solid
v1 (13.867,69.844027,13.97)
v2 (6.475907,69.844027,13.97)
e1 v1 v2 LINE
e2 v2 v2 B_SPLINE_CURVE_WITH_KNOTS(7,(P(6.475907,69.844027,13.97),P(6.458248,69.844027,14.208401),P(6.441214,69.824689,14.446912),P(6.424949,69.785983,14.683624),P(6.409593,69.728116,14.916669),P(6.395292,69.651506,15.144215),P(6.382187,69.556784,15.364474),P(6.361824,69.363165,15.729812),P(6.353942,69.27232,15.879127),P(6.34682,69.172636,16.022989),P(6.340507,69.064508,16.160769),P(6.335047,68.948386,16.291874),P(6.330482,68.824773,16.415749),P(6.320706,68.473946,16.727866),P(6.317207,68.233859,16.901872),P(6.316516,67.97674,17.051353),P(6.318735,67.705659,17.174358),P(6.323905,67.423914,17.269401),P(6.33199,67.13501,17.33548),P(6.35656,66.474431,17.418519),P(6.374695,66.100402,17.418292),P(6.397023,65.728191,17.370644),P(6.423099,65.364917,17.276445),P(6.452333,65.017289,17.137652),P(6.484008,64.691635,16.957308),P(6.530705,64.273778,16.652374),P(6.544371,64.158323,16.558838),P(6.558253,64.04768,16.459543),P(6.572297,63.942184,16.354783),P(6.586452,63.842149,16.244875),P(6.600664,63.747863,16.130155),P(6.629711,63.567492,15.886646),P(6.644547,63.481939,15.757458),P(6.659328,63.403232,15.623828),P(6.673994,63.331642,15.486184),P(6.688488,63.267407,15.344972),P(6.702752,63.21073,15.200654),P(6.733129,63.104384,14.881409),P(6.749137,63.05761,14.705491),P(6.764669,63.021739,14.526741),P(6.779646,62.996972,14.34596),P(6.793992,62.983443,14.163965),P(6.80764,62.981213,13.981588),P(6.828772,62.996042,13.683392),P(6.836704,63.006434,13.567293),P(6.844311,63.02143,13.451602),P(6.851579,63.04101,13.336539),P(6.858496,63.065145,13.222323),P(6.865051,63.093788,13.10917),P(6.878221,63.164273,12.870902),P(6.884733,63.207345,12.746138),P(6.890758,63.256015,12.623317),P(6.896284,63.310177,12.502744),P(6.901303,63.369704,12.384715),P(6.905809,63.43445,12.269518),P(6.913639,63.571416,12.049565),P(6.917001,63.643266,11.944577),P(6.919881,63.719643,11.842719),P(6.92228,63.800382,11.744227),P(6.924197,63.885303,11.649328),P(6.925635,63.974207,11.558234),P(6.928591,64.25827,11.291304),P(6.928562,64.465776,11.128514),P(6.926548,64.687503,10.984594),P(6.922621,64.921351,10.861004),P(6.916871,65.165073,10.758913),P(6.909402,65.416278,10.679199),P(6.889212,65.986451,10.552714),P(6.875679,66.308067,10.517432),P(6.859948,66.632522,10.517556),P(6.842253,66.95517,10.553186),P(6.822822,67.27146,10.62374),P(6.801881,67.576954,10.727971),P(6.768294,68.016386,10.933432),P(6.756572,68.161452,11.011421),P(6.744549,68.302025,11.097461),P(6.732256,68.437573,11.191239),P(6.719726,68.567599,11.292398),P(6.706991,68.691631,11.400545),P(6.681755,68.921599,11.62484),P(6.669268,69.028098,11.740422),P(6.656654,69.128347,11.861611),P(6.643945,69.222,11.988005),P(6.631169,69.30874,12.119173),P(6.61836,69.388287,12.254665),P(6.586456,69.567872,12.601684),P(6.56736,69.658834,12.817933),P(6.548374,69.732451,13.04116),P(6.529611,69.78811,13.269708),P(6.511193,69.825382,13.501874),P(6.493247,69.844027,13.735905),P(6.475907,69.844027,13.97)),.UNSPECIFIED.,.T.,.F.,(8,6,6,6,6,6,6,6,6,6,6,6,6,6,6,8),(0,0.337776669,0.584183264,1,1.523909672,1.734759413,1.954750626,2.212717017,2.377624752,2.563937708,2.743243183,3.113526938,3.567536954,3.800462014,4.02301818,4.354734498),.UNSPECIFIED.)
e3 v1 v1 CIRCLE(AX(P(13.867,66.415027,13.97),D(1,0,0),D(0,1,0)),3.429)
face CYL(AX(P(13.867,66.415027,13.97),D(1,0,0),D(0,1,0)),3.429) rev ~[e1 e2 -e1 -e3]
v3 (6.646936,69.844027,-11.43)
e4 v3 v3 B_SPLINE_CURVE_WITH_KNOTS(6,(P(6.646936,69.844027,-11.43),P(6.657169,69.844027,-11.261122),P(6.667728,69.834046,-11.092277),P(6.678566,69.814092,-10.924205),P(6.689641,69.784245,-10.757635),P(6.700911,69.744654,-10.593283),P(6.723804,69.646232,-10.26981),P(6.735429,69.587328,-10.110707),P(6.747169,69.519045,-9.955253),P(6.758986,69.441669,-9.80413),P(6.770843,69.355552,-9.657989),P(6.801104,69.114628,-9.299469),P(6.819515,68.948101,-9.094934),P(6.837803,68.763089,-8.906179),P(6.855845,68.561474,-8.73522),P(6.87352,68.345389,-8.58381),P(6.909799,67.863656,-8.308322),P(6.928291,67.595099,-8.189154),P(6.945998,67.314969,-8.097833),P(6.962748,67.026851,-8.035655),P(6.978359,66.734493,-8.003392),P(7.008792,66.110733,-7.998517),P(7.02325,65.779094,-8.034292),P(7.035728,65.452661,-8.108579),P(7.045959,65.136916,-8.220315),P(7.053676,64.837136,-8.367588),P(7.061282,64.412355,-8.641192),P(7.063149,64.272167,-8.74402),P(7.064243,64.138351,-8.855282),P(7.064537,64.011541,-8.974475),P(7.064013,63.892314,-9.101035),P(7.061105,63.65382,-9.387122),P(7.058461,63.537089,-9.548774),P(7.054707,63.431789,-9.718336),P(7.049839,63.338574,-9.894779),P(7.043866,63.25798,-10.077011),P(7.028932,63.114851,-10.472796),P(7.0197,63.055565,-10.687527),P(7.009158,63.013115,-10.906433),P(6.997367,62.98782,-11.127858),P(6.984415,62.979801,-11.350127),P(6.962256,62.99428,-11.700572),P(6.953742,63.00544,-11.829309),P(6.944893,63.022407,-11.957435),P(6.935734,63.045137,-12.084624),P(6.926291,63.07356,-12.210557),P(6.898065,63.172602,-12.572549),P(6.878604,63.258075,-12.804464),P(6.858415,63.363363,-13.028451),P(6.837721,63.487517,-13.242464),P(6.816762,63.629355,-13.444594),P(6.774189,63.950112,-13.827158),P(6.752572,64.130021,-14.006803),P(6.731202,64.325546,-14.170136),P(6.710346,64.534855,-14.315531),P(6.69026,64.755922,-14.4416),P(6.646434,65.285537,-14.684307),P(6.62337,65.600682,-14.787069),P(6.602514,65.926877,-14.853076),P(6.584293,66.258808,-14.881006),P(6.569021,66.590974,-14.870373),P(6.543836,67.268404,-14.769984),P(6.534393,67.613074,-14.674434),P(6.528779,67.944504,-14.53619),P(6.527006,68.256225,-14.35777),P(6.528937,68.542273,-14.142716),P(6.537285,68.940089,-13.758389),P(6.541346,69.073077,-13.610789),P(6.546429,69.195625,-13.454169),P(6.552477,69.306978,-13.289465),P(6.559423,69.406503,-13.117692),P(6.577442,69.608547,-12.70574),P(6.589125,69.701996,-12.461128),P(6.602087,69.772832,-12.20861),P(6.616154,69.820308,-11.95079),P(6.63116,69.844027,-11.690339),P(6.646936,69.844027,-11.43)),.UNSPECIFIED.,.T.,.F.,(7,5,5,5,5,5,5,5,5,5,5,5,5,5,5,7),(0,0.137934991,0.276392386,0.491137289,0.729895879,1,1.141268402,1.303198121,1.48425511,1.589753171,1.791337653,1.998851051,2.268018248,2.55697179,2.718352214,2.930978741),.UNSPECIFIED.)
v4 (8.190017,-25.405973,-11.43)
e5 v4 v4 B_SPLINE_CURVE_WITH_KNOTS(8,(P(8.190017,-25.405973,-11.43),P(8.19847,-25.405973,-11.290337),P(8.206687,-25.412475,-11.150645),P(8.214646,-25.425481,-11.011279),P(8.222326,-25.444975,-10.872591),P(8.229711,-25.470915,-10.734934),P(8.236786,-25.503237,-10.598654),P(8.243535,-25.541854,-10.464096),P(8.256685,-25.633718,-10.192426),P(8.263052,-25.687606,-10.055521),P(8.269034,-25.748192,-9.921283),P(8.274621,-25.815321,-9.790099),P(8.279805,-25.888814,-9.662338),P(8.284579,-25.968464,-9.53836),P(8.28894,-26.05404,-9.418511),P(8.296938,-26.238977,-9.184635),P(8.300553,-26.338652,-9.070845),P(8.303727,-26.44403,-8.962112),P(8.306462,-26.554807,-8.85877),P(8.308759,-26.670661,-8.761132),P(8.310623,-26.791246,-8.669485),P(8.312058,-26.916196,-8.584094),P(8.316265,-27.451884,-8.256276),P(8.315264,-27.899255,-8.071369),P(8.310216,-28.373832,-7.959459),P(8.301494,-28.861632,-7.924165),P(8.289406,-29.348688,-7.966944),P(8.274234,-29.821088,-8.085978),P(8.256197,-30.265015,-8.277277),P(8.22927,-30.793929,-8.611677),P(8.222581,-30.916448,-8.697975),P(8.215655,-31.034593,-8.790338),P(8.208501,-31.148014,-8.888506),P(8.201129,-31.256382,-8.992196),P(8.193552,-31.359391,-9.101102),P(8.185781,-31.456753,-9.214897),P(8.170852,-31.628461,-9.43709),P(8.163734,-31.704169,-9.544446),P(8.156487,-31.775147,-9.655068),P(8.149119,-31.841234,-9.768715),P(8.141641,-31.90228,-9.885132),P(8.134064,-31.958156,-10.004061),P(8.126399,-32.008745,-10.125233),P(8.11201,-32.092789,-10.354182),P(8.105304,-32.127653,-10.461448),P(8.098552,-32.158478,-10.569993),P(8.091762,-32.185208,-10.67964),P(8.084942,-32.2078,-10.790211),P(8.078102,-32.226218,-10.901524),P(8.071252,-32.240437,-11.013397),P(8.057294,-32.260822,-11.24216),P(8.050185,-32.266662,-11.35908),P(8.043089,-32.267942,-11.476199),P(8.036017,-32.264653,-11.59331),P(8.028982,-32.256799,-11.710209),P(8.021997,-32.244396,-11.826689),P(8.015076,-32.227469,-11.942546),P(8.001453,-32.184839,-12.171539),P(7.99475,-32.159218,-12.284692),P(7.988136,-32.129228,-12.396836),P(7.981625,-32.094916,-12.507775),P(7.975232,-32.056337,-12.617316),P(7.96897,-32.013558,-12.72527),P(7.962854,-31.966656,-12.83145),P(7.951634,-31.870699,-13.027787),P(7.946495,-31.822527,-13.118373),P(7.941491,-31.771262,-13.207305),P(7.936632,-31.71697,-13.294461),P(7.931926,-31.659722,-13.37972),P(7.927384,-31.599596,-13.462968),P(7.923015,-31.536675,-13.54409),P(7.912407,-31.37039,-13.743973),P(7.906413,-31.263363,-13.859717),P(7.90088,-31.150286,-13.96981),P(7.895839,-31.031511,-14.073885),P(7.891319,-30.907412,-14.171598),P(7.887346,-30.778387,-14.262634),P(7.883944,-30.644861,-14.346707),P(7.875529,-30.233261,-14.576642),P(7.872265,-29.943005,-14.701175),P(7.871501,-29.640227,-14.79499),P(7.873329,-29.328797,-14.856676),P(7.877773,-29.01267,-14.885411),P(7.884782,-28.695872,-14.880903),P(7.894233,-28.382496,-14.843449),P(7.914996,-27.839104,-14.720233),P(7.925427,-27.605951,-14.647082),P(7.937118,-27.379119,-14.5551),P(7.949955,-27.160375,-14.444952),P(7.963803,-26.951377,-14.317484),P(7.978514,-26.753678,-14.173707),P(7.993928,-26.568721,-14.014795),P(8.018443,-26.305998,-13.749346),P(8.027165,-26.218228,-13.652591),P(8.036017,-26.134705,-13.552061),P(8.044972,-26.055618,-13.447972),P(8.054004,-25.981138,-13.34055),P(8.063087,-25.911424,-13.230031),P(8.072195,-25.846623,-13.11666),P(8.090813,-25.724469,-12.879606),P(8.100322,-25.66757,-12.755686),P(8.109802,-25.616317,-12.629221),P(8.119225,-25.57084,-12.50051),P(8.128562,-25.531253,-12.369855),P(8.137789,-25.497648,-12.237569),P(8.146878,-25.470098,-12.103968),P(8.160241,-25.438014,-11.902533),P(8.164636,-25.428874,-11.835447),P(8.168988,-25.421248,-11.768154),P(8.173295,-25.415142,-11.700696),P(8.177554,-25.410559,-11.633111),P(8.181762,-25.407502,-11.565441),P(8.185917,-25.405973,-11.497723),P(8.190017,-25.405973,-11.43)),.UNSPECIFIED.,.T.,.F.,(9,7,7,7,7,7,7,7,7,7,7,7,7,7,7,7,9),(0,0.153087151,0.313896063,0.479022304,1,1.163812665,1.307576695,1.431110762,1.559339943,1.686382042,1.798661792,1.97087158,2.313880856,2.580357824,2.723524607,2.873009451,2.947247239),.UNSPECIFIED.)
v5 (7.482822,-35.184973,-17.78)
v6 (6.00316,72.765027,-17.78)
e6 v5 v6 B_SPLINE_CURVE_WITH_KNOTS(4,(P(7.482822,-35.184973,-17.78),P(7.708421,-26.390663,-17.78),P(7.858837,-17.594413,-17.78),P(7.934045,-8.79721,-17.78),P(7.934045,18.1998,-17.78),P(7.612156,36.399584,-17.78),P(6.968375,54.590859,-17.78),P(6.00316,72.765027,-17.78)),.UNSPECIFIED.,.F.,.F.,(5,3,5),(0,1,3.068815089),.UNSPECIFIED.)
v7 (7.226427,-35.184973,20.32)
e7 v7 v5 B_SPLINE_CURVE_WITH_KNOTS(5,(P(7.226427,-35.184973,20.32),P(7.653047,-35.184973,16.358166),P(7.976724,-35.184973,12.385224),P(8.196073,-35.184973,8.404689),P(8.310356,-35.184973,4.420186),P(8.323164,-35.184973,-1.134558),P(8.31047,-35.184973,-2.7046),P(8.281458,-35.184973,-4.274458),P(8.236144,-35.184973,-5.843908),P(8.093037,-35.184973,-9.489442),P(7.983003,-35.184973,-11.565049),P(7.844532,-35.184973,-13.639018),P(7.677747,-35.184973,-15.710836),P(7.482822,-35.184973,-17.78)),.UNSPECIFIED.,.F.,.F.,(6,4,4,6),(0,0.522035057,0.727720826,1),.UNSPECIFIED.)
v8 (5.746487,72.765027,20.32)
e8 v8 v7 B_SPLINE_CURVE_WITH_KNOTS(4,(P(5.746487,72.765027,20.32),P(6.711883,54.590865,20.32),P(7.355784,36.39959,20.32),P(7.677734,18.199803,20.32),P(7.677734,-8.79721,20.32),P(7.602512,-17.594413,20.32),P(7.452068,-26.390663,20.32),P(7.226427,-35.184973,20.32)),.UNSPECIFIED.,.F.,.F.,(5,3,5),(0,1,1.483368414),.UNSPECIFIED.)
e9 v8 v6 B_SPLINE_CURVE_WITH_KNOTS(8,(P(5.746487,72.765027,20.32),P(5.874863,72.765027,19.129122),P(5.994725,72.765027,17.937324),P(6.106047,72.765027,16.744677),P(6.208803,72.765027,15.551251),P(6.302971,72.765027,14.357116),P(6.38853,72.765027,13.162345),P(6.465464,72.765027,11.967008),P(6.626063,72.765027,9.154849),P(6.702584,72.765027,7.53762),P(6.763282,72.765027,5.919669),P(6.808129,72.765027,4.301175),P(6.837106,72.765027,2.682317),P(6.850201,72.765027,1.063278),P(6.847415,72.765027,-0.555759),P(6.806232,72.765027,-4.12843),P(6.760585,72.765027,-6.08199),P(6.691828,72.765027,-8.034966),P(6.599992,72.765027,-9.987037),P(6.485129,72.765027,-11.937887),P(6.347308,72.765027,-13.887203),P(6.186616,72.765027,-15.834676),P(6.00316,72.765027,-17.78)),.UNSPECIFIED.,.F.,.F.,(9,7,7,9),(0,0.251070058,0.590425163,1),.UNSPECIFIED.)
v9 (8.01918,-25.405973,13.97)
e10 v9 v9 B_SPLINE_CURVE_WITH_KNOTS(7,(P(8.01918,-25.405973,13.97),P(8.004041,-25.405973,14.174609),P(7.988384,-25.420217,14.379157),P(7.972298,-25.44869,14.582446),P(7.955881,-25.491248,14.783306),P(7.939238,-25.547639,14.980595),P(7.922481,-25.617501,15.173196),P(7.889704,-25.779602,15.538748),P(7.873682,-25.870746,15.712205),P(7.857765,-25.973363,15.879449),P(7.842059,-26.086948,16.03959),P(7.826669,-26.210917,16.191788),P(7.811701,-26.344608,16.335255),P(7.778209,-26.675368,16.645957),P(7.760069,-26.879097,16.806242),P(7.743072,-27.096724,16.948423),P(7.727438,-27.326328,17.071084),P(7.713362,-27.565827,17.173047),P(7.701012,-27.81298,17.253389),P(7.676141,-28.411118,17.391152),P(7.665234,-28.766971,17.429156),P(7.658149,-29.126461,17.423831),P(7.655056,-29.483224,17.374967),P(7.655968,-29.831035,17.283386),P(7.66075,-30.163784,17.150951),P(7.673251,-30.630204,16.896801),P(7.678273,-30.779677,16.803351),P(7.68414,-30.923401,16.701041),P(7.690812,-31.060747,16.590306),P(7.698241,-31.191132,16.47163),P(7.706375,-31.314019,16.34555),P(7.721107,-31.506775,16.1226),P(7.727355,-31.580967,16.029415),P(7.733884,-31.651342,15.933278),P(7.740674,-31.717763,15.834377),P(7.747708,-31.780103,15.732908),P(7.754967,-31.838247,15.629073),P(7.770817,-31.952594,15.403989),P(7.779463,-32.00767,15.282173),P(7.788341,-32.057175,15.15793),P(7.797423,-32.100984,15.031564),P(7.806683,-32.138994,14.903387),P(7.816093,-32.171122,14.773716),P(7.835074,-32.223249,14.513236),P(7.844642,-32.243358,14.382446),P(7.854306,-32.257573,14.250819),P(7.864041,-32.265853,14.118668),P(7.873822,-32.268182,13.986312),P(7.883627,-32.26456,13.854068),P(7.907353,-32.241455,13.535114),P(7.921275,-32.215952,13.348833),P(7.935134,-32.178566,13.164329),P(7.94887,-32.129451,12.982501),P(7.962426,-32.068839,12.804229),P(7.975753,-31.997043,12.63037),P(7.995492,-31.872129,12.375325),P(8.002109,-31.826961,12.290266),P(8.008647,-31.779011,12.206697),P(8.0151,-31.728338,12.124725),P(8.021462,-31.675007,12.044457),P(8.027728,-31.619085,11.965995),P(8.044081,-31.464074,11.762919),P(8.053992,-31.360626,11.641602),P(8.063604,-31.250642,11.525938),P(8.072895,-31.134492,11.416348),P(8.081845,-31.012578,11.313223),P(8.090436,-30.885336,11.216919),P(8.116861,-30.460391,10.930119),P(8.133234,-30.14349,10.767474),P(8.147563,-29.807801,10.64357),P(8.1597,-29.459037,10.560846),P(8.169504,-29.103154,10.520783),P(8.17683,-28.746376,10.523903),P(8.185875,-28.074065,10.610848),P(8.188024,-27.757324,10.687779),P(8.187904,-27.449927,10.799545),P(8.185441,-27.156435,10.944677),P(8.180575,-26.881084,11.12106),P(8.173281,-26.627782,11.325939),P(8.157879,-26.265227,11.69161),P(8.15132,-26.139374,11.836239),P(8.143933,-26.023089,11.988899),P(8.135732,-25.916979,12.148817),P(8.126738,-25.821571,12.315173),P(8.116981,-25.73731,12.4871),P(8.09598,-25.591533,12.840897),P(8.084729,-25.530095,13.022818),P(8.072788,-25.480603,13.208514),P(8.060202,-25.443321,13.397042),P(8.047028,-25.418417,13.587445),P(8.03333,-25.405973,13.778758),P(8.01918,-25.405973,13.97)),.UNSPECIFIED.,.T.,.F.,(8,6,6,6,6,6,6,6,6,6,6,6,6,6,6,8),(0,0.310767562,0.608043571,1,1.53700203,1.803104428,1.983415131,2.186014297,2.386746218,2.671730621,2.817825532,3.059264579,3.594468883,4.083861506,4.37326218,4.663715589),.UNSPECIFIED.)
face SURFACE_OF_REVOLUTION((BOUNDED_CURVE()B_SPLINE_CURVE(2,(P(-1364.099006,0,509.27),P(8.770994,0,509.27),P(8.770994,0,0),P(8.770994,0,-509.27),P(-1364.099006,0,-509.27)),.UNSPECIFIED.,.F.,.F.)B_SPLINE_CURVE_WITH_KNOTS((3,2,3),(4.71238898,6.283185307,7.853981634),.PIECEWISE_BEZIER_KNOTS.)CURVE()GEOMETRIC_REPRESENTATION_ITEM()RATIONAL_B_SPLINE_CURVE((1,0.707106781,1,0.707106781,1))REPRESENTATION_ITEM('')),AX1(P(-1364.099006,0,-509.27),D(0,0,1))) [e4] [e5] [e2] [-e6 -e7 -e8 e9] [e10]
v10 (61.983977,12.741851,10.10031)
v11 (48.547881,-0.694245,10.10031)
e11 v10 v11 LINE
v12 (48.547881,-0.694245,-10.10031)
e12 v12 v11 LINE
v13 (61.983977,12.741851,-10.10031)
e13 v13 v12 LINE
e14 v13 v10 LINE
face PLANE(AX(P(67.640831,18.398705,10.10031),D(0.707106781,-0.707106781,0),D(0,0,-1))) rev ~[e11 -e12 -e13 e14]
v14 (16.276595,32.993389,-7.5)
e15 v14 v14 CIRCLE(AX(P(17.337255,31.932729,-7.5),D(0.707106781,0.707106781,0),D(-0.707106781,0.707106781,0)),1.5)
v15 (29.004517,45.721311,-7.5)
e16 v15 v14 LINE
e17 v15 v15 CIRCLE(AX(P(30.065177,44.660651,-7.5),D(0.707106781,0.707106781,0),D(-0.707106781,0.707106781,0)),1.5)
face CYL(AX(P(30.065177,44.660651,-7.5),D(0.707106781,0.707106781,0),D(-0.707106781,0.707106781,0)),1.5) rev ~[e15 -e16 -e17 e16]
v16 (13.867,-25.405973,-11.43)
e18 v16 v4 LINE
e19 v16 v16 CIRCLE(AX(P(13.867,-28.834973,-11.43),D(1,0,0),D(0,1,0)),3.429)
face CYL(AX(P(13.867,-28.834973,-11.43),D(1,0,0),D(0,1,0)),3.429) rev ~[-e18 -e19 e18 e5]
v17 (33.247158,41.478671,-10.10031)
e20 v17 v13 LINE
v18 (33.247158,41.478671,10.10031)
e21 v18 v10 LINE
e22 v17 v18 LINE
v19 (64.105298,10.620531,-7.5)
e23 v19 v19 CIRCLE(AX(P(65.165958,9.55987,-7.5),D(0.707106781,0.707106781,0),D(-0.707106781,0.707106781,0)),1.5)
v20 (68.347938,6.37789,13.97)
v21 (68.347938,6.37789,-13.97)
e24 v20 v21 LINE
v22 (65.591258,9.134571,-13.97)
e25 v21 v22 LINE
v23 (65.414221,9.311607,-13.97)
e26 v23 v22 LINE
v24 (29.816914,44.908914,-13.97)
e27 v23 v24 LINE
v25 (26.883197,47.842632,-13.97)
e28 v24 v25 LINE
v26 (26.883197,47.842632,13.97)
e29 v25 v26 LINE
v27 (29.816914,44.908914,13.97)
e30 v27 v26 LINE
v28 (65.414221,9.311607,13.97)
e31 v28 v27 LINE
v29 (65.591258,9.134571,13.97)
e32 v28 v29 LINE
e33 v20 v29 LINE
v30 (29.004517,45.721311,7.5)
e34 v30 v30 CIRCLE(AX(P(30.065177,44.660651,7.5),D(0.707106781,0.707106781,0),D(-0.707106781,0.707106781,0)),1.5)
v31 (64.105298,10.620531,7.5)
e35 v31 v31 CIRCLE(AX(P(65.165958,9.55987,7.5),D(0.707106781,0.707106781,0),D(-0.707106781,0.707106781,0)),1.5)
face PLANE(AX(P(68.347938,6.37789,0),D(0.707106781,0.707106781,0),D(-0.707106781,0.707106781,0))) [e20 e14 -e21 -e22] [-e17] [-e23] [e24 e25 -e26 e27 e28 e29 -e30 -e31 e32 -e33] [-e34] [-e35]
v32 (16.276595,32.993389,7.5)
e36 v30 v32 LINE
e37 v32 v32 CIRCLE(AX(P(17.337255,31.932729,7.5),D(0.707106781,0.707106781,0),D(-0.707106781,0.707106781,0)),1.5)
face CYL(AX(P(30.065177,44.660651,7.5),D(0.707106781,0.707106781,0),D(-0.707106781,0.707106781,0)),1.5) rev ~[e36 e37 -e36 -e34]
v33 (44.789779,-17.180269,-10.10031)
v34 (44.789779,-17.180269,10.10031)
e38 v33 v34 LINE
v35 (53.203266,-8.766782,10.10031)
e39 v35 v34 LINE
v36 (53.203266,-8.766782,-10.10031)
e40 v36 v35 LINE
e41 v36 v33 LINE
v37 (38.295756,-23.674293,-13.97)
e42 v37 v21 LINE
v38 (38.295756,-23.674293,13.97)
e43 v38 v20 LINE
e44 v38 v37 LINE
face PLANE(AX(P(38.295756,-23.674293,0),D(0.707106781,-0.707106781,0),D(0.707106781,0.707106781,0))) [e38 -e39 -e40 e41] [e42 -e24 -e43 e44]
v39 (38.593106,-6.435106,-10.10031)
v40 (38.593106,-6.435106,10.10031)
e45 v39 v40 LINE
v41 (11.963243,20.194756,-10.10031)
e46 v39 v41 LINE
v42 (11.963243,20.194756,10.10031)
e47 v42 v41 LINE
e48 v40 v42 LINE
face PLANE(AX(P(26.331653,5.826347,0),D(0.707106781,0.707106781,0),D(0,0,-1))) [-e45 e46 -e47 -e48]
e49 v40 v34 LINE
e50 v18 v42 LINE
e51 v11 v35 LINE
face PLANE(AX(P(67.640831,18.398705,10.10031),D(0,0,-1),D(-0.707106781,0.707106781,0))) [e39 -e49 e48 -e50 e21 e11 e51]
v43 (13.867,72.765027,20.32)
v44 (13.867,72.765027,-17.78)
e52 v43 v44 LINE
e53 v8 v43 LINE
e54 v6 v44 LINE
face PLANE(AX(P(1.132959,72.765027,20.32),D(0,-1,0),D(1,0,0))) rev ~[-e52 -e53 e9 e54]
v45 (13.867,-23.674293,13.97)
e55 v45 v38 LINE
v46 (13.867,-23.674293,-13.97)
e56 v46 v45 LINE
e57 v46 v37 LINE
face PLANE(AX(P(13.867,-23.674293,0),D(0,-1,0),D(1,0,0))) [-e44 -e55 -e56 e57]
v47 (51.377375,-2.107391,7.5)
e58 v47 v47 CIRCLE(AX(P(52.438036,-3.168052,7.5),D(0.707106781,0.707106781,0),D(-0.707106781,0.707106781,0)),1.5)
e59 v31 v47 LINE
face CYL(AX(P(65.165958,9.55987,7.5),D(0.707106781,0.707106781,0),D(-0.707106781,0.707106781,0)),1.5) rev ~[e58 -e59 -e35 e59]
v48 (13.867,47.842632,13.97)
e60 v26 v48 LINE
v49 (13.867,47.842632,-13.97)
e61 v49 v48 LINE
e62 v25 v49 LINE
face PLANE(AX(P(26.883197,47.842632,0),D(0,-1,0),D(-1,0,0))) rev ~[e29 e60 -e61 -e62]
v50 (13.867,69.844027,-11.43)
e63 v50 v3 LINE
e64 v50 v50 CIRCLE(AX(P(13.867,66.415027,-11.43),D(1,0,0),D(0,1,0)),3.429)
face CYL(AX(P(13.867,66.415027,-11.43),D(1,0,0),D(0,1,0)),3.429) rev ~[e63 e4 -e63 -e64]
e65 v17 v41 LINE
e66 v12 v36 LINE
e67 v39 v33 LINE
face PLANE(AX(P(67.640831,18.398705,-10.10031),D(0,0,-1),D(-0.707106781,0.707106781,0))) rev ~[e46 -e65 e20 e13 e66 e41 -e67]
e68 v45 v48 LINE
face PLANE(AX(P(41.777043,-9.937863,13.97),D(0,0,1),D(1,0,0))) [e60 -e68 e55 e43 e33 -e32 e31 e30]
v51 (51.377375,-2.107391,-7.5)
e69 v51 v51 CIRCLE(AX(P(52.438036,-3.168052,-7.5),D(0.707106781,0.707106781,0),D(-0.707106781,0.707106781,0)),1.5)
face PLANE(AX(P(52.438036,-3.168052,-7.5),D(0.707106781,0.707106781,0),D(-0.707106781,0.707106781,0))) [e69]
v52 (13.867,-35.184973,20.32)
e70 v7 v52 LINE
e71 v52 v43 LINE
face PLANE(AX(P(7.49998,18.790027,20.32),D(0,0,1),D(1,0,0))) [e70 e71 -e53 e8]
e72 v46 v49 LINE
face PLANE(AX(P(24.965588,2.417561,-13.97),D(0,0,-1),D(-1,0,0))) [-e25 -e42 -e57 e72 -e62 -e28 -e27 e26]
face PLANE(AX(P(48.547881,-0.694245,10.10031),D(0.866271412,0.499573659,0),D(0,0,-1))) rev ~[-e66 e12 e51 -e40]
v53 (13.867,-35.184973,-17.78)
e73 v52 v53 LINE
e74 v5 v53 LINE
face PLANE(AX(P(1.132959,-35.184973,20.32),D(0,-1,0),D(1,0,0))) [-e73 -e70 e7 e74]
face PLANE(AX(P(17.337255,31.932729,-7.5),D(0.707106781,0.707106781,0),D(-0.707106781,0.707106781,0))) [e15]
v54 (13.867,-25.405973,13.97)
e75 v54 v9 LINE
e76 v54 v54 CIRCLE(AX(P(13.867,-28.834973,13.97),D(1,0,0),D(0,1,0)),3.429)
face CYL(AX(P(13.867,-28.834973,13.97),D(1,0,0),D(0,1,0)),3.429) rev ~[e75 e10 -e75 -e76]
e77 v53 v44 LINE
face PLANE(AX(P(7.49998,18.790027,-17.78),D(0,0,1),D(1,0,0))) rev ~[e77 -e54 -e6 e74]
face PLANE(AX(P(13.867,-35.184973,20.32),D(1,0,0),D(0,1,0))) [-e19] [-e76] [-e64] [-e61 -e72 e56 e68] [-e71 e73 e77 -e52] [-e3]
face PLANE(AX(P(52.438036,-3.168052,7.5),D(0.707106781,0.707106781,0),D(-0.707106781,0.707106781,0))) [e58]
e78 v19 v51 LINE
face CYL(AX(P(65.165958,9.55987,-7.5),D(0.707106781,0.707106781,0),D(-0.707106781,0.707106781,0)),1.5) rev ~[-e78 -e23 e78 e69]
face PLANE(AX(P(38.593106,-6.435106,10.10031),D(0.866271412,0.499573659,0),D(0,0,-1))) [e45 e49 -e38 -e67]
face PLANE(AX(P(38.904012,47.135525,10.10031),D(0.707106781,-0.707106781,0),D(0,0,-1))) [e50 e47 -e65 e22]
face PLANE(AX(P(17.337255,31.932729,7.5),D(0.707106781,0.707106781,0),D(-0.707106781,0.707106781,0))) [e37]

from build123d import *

# Parameters (mm, degrees)
SKETCH1_W               = 15.24
SKETCH1_H               = 47.25
BOSS_EXTRUDE1_DEPTH     = 29
BOSS_EXTRUDE2_DEPTH     = 15.24
BOSS_EXTRUDE3_START     = 6.35
BOSS_EXTRUDE3_DEPTH     = 27.94
CUT_EXTRUDE4_DEPTH      = 90.856122335
CUT_EXTRUDE4_DEPTH_BACK = 90.856122335
BOSS_EXTRUDE4_START     = 12.7
SKETCH15_W              = 12.73404056
SKETCH15_H              = 107.95
BOSS_EXTRUDE4_DEPTH     = 38.1
SKETCH17_R              = 3.429
CUT_EXTRUDE6_DEPTH      = 95.762638832
BOSS_EXTRUDE9_DEPTH     = 6.35
BOSS_EXTRUDE10_DEPTH    = 6.35
SKETCH12_W              = 20.20062
SKETCH12_H              = 40.64
CUT_EXTRUDE8_DEPTH      = 38.1
SKETCH21_W              = 27.94
SKETCH21_H              = 50.342193805
CUT_EXTRUDE9_DEPTH      = 8
SKETCH22_W              = 27.94
SKETCH22_H              = 8
CUT_EXTRUDE10_DEPTH     = 2.54
BOSS_EXTRUDE11_DEPTH    = 13.97
SKETCH24_W              = 11.491520074
SKETCH24_H              = 20.20062
CUT_EXTRUDE11_DEPTH     = 112.502999945
SKETCH25_R              = 1.5
CUT_EXTRUDE12_DEPTH     = 18


with BuildPart() as part:
    # Sketch1 → Boss-Extrude1 (new body)
    with BuildSketch(Plane(origin=(0, 0, 0), x_dir=(0, 0, -1), z_dir=(1, 0, 0))):
        Rectangle(SKETCH1_W, SKETCH1_H)
    extrude(amount=BOSS_EXTRUDE1_DEPTH)

    # Sketch8 → Cut-Revolve1 (revolve, cut)
    with BuildSketch(Plane(origin=(0, 0, 0), x_dir=(1, 0, 0), z_dir=(0, 1, 0))):
        with BuildLine():
            Line((-1363.98, 509.27), (-1363.98, -509.27))
            add(Edge.make_bspline(
                [(-1363.98, -509.27), (8.89, -509.27), (8.89, 0), (8.89, 509.27), (-1363.98, 509.27)],
                knots=[4.71238898, 4.71238898, 4.71238898, 6.283185307, 6.283185307, 7.853981634, 7.853981634, 7.853981634], degree=2, weights=[1, 0.707106781, 1, 0.707106781, 1]))
        make_face()
    revolve(axis=Axis((-1363.98, 0, -509.27), (0, 0, 1)), mode=Mode.SUBTRACT)

    # Sketch9 → Boss-Extrude2 (add)
    with BuildSketch(Plane.XY.offset(7.62)):
        Polygon((29, -23.625), (57.293684645, -23.625), (29, 23.625), align=None)
    extrude(amount=-BOSS_EXTRUDE2_DEPTH)

    # Sketch11 → Boss-Extrude3 (add)
    with BuildSketch(Plane(origin=(0, 0, -7.62), x_dir=(-1, 0, 0), z_dir=(0, 0, -1)).offset(BOSS_EXTRUDE3_START)):
        Polygon((-8.532999942, 23.625), (-35.473768305, 50.565768363), (-71.071074924, 14.968461744), (-48.544371121, -9.013786608), (-28.889356272, 23.625), align=None)
    extrude(amount=-BOSS_EXTRUDE3_DEPTH)

    # Sketch13 → Cut-Extrude4 (cut, two sides: drawn at the far end of the back side and taken through both)
    with BuildSketch(Plane(origin=(0, 0, -7.62), x_dir=(-1, 0, 0), z_dir=(0, 0, -1)).offset(-CUT_EXTRUDE4_DEPTH_BACK)):
        Polygon((-61.672265147, 5.569651967), (-8.532999942, -23.625), (-25.02523354, -53.6436889), (-79.417056311, -23.760883228), align=None)
    extrude(amount=CUT_EXTRUDE4_DEPTH + CUT_EXTRUDE4_DEPTH_BACK, mode=Mode.SUBTRACT)

    # Sketch15 → Boss-Extrude4 (add)
    with BuildSketch(Plane.XY.offset(7.62).offset(BOSS_EXTRUDE4_START)):
        with Locations((7.499979662, 18.790026662)):
            Rectangle(SKETCH15_W, SKETCH15_H)
    extrude(amount=-BOSS_EXTRUDE4_DEPTH)

    # Sketch16 → Cut-Revolve2 (revolve, cut)
    with BuildSketch(Plane(origin=(0, 0, 0), x_dir=(1, 0, 0), z_dir=(0, 1, 0))):
        with BuildLine():
            Line((-1364.099005706, 509.27), (-1364.099005706, -509.27))
            add(Edge.make_bspline(
                [(-1364.099005706, -509.27), (8.770994294, -509.27), (8.770994294, 0), (8.770994294, 509.27), (-1364.099005706, 509.27)],
                knots=[4.71238898, 4.71238898, 4.71238898, 6.283185307, 6.283185307, 7.853981634, 7.853981634, 7.853981634], degree=2, weights=[1, 0.707106781, 1, 0.707106781, 1]))
        make_face()
    revolve(axis=Axis((-1364.099005706, 0, -509.27), (0, 0, 1)), mode=Mode.SUBTRACT)

    # Sketch17 → Cut-Extrude6 (cut, through all)
    with BuildSketch(Plane(origin=(13.866999942, 0, 0), x_dir=(0, 0, -1), z_dir=(1, 0, 0))):
        with Locations(Location((-13.97, -28.834973338, 0), (0, 0, 90))):
            Circle(SKETCH17_R)
        with Locations(Location((-13.97, 66.415026662, 0), (0, 0, 90))):
            Circle(SKETCH17_R)
        with Locations(Location((11.43, 66.415026662, 0), (0, 0, 90))):
            Circle(SKETCH17_R)
        with Locations(Location((11.43, -28.834973338, 0), (0, 0, 90))):
            Circle(SKETCH17_R)
    extrude(amount=-CUT_EXTRUDE6_DEPTH, mode=Mode.SUBTRACT)

    # Sketch19 → Boss-Extrude9 (add)
    with BuildSketch(Plane.XY.offset(7.62)):
        Polygon((13.866999942, 23.625), (13.866999942, -20.694506456), (45.209055073, -3.475216955), (28.889356272, 23.625), align=None)
    extrude(amount=BOSS_EXTRUDE9_DEPTH)

    # Sketch20 → Boss-Extrude10 (add)
    with BuildSketch(Plane(origin=(0, 0, -7.62), x_dir=(-1, 0, 0), z_dir=(0, 0, -1))):
        Polygon((-45.209055073, -3.475216955), (-13.866999942, -20.694506456), (-13.866999942, 23.625), (-28.889356272, 23.625), align=None)
    extrude(amount=BOSS_EXTRUDE10_DEPTH)

    # Sketch12 → Cut-Extrude8 (cut)
    with BuildSketch(Plane(origin=(43.019768334, 43.019768334, 0), x_dir=(0, 0, -1), z_dir=(0.7071067811865476, 0.7071067811865476, 0))):
        with Locations((0, -14.49944132)):
            Rectangle(SKETCH12_W, SKETCH12_H)
    extrude(amount=-CUT_EXTRUDE8_DEPTH, mode=Mode.SUBTRACT)

    # Sketch21 → Cut-Extrude9 (cut)
    with BuildSketch(Plane(origin=(43.019768334, 43.019768334, 0), x_dir=(0, 0, -1), z_dir=(0.7071067811865477, 0.7071067811865475, 0))):
        with Locations((0, -14.49944132)):
            Rectangle(SKETCH21_W, SKETCH21_H)
    extrude(amount=-CUT_EXTRUDE9_DEPTH, mode=Mode.SUBTRACT)

    # Sketch22 → Cut-Extrude10 (cut)
    with BuildSketch(Plane(origin=(28.05130659, -28.05130659, 0), x_dir=(0, 0, 1), z_dir=(-0.7071067811865476, 0.7071067811865476, 0))):
        with Locations((0, 56.839139829)):
            Rectangle(SKETCH22_W, SKETCH22_H)
    extrude(amount=-CUT_EXTRUDE10_DEPTH, mode=Mode.SUBTRACT)

    # Sketch23 → Boss-Extrude11 (add, symmetric)
    with BuildSketch(Plane.XY):
        Polygon((29.816914056, 44.908914114), (26.883196541, 47.842631629), (13.866999942, 47.842631629), (13.866999942, 28.959), align=None)
        Polygon((65.591257632, 9.134570538), (13.866999942, -20.694506456), (13.866999942, -23.674292513), (38.295755697, -23.674292513), (68.34793819, 6.37788998), align=None)
    extrude(amount=BOSS_EXTRUDE11_DEPTH, both=True)

    # Sketch24 → Cut-Extrude11 (cut, through all)
    with BuildSketch(Plane(origin=(12.416727049, -21.530870355, 0), x_dir=(0.8662714122168664, 0.49957365860881403, 0), z_dir=(-0.49957365860881403, 0.8662714122168664, 0))):
        with Locations((35.963054904, 0)):
            Rectangle(SKETCH24_W, SKETCH24_H)
    extrude(amount=-CUT_EXTRUDE11_DEPTH, mode=Mode.SUBTRACT)

    # Sketch25 → Cut-Extrude12 (cut)
    with BuildSketch(Plane(origin=(37.362914085, 37.362914085, 0), x_dir=(0, 0, -1), z_dir=(0.7071067811865476, 0.7071067811865475, 0))):
        with Locations(Location((-7.5, 10.32055868, 0), (0, 0, 90))):
            Circle(SKETCH25_R)
        with Locations(Location((7.5, 10.32055868, 0), (0, 0, 90))):
            Circle(SKETCH25_R)
        with Locations(Location((-7.5, -39.31944132, 0), (0, 0, 90))):
            Circle(SKETCH25_R)
        with Locations(Location((7.5, -39.31944132, 0), (0, 0, 90))):
            Circle(SKETCH25_R)
    extrude(amount=-CUT_EXTRUDE12_DEPTH, mode=Mode.SUBTRACT)


solid = part.part
